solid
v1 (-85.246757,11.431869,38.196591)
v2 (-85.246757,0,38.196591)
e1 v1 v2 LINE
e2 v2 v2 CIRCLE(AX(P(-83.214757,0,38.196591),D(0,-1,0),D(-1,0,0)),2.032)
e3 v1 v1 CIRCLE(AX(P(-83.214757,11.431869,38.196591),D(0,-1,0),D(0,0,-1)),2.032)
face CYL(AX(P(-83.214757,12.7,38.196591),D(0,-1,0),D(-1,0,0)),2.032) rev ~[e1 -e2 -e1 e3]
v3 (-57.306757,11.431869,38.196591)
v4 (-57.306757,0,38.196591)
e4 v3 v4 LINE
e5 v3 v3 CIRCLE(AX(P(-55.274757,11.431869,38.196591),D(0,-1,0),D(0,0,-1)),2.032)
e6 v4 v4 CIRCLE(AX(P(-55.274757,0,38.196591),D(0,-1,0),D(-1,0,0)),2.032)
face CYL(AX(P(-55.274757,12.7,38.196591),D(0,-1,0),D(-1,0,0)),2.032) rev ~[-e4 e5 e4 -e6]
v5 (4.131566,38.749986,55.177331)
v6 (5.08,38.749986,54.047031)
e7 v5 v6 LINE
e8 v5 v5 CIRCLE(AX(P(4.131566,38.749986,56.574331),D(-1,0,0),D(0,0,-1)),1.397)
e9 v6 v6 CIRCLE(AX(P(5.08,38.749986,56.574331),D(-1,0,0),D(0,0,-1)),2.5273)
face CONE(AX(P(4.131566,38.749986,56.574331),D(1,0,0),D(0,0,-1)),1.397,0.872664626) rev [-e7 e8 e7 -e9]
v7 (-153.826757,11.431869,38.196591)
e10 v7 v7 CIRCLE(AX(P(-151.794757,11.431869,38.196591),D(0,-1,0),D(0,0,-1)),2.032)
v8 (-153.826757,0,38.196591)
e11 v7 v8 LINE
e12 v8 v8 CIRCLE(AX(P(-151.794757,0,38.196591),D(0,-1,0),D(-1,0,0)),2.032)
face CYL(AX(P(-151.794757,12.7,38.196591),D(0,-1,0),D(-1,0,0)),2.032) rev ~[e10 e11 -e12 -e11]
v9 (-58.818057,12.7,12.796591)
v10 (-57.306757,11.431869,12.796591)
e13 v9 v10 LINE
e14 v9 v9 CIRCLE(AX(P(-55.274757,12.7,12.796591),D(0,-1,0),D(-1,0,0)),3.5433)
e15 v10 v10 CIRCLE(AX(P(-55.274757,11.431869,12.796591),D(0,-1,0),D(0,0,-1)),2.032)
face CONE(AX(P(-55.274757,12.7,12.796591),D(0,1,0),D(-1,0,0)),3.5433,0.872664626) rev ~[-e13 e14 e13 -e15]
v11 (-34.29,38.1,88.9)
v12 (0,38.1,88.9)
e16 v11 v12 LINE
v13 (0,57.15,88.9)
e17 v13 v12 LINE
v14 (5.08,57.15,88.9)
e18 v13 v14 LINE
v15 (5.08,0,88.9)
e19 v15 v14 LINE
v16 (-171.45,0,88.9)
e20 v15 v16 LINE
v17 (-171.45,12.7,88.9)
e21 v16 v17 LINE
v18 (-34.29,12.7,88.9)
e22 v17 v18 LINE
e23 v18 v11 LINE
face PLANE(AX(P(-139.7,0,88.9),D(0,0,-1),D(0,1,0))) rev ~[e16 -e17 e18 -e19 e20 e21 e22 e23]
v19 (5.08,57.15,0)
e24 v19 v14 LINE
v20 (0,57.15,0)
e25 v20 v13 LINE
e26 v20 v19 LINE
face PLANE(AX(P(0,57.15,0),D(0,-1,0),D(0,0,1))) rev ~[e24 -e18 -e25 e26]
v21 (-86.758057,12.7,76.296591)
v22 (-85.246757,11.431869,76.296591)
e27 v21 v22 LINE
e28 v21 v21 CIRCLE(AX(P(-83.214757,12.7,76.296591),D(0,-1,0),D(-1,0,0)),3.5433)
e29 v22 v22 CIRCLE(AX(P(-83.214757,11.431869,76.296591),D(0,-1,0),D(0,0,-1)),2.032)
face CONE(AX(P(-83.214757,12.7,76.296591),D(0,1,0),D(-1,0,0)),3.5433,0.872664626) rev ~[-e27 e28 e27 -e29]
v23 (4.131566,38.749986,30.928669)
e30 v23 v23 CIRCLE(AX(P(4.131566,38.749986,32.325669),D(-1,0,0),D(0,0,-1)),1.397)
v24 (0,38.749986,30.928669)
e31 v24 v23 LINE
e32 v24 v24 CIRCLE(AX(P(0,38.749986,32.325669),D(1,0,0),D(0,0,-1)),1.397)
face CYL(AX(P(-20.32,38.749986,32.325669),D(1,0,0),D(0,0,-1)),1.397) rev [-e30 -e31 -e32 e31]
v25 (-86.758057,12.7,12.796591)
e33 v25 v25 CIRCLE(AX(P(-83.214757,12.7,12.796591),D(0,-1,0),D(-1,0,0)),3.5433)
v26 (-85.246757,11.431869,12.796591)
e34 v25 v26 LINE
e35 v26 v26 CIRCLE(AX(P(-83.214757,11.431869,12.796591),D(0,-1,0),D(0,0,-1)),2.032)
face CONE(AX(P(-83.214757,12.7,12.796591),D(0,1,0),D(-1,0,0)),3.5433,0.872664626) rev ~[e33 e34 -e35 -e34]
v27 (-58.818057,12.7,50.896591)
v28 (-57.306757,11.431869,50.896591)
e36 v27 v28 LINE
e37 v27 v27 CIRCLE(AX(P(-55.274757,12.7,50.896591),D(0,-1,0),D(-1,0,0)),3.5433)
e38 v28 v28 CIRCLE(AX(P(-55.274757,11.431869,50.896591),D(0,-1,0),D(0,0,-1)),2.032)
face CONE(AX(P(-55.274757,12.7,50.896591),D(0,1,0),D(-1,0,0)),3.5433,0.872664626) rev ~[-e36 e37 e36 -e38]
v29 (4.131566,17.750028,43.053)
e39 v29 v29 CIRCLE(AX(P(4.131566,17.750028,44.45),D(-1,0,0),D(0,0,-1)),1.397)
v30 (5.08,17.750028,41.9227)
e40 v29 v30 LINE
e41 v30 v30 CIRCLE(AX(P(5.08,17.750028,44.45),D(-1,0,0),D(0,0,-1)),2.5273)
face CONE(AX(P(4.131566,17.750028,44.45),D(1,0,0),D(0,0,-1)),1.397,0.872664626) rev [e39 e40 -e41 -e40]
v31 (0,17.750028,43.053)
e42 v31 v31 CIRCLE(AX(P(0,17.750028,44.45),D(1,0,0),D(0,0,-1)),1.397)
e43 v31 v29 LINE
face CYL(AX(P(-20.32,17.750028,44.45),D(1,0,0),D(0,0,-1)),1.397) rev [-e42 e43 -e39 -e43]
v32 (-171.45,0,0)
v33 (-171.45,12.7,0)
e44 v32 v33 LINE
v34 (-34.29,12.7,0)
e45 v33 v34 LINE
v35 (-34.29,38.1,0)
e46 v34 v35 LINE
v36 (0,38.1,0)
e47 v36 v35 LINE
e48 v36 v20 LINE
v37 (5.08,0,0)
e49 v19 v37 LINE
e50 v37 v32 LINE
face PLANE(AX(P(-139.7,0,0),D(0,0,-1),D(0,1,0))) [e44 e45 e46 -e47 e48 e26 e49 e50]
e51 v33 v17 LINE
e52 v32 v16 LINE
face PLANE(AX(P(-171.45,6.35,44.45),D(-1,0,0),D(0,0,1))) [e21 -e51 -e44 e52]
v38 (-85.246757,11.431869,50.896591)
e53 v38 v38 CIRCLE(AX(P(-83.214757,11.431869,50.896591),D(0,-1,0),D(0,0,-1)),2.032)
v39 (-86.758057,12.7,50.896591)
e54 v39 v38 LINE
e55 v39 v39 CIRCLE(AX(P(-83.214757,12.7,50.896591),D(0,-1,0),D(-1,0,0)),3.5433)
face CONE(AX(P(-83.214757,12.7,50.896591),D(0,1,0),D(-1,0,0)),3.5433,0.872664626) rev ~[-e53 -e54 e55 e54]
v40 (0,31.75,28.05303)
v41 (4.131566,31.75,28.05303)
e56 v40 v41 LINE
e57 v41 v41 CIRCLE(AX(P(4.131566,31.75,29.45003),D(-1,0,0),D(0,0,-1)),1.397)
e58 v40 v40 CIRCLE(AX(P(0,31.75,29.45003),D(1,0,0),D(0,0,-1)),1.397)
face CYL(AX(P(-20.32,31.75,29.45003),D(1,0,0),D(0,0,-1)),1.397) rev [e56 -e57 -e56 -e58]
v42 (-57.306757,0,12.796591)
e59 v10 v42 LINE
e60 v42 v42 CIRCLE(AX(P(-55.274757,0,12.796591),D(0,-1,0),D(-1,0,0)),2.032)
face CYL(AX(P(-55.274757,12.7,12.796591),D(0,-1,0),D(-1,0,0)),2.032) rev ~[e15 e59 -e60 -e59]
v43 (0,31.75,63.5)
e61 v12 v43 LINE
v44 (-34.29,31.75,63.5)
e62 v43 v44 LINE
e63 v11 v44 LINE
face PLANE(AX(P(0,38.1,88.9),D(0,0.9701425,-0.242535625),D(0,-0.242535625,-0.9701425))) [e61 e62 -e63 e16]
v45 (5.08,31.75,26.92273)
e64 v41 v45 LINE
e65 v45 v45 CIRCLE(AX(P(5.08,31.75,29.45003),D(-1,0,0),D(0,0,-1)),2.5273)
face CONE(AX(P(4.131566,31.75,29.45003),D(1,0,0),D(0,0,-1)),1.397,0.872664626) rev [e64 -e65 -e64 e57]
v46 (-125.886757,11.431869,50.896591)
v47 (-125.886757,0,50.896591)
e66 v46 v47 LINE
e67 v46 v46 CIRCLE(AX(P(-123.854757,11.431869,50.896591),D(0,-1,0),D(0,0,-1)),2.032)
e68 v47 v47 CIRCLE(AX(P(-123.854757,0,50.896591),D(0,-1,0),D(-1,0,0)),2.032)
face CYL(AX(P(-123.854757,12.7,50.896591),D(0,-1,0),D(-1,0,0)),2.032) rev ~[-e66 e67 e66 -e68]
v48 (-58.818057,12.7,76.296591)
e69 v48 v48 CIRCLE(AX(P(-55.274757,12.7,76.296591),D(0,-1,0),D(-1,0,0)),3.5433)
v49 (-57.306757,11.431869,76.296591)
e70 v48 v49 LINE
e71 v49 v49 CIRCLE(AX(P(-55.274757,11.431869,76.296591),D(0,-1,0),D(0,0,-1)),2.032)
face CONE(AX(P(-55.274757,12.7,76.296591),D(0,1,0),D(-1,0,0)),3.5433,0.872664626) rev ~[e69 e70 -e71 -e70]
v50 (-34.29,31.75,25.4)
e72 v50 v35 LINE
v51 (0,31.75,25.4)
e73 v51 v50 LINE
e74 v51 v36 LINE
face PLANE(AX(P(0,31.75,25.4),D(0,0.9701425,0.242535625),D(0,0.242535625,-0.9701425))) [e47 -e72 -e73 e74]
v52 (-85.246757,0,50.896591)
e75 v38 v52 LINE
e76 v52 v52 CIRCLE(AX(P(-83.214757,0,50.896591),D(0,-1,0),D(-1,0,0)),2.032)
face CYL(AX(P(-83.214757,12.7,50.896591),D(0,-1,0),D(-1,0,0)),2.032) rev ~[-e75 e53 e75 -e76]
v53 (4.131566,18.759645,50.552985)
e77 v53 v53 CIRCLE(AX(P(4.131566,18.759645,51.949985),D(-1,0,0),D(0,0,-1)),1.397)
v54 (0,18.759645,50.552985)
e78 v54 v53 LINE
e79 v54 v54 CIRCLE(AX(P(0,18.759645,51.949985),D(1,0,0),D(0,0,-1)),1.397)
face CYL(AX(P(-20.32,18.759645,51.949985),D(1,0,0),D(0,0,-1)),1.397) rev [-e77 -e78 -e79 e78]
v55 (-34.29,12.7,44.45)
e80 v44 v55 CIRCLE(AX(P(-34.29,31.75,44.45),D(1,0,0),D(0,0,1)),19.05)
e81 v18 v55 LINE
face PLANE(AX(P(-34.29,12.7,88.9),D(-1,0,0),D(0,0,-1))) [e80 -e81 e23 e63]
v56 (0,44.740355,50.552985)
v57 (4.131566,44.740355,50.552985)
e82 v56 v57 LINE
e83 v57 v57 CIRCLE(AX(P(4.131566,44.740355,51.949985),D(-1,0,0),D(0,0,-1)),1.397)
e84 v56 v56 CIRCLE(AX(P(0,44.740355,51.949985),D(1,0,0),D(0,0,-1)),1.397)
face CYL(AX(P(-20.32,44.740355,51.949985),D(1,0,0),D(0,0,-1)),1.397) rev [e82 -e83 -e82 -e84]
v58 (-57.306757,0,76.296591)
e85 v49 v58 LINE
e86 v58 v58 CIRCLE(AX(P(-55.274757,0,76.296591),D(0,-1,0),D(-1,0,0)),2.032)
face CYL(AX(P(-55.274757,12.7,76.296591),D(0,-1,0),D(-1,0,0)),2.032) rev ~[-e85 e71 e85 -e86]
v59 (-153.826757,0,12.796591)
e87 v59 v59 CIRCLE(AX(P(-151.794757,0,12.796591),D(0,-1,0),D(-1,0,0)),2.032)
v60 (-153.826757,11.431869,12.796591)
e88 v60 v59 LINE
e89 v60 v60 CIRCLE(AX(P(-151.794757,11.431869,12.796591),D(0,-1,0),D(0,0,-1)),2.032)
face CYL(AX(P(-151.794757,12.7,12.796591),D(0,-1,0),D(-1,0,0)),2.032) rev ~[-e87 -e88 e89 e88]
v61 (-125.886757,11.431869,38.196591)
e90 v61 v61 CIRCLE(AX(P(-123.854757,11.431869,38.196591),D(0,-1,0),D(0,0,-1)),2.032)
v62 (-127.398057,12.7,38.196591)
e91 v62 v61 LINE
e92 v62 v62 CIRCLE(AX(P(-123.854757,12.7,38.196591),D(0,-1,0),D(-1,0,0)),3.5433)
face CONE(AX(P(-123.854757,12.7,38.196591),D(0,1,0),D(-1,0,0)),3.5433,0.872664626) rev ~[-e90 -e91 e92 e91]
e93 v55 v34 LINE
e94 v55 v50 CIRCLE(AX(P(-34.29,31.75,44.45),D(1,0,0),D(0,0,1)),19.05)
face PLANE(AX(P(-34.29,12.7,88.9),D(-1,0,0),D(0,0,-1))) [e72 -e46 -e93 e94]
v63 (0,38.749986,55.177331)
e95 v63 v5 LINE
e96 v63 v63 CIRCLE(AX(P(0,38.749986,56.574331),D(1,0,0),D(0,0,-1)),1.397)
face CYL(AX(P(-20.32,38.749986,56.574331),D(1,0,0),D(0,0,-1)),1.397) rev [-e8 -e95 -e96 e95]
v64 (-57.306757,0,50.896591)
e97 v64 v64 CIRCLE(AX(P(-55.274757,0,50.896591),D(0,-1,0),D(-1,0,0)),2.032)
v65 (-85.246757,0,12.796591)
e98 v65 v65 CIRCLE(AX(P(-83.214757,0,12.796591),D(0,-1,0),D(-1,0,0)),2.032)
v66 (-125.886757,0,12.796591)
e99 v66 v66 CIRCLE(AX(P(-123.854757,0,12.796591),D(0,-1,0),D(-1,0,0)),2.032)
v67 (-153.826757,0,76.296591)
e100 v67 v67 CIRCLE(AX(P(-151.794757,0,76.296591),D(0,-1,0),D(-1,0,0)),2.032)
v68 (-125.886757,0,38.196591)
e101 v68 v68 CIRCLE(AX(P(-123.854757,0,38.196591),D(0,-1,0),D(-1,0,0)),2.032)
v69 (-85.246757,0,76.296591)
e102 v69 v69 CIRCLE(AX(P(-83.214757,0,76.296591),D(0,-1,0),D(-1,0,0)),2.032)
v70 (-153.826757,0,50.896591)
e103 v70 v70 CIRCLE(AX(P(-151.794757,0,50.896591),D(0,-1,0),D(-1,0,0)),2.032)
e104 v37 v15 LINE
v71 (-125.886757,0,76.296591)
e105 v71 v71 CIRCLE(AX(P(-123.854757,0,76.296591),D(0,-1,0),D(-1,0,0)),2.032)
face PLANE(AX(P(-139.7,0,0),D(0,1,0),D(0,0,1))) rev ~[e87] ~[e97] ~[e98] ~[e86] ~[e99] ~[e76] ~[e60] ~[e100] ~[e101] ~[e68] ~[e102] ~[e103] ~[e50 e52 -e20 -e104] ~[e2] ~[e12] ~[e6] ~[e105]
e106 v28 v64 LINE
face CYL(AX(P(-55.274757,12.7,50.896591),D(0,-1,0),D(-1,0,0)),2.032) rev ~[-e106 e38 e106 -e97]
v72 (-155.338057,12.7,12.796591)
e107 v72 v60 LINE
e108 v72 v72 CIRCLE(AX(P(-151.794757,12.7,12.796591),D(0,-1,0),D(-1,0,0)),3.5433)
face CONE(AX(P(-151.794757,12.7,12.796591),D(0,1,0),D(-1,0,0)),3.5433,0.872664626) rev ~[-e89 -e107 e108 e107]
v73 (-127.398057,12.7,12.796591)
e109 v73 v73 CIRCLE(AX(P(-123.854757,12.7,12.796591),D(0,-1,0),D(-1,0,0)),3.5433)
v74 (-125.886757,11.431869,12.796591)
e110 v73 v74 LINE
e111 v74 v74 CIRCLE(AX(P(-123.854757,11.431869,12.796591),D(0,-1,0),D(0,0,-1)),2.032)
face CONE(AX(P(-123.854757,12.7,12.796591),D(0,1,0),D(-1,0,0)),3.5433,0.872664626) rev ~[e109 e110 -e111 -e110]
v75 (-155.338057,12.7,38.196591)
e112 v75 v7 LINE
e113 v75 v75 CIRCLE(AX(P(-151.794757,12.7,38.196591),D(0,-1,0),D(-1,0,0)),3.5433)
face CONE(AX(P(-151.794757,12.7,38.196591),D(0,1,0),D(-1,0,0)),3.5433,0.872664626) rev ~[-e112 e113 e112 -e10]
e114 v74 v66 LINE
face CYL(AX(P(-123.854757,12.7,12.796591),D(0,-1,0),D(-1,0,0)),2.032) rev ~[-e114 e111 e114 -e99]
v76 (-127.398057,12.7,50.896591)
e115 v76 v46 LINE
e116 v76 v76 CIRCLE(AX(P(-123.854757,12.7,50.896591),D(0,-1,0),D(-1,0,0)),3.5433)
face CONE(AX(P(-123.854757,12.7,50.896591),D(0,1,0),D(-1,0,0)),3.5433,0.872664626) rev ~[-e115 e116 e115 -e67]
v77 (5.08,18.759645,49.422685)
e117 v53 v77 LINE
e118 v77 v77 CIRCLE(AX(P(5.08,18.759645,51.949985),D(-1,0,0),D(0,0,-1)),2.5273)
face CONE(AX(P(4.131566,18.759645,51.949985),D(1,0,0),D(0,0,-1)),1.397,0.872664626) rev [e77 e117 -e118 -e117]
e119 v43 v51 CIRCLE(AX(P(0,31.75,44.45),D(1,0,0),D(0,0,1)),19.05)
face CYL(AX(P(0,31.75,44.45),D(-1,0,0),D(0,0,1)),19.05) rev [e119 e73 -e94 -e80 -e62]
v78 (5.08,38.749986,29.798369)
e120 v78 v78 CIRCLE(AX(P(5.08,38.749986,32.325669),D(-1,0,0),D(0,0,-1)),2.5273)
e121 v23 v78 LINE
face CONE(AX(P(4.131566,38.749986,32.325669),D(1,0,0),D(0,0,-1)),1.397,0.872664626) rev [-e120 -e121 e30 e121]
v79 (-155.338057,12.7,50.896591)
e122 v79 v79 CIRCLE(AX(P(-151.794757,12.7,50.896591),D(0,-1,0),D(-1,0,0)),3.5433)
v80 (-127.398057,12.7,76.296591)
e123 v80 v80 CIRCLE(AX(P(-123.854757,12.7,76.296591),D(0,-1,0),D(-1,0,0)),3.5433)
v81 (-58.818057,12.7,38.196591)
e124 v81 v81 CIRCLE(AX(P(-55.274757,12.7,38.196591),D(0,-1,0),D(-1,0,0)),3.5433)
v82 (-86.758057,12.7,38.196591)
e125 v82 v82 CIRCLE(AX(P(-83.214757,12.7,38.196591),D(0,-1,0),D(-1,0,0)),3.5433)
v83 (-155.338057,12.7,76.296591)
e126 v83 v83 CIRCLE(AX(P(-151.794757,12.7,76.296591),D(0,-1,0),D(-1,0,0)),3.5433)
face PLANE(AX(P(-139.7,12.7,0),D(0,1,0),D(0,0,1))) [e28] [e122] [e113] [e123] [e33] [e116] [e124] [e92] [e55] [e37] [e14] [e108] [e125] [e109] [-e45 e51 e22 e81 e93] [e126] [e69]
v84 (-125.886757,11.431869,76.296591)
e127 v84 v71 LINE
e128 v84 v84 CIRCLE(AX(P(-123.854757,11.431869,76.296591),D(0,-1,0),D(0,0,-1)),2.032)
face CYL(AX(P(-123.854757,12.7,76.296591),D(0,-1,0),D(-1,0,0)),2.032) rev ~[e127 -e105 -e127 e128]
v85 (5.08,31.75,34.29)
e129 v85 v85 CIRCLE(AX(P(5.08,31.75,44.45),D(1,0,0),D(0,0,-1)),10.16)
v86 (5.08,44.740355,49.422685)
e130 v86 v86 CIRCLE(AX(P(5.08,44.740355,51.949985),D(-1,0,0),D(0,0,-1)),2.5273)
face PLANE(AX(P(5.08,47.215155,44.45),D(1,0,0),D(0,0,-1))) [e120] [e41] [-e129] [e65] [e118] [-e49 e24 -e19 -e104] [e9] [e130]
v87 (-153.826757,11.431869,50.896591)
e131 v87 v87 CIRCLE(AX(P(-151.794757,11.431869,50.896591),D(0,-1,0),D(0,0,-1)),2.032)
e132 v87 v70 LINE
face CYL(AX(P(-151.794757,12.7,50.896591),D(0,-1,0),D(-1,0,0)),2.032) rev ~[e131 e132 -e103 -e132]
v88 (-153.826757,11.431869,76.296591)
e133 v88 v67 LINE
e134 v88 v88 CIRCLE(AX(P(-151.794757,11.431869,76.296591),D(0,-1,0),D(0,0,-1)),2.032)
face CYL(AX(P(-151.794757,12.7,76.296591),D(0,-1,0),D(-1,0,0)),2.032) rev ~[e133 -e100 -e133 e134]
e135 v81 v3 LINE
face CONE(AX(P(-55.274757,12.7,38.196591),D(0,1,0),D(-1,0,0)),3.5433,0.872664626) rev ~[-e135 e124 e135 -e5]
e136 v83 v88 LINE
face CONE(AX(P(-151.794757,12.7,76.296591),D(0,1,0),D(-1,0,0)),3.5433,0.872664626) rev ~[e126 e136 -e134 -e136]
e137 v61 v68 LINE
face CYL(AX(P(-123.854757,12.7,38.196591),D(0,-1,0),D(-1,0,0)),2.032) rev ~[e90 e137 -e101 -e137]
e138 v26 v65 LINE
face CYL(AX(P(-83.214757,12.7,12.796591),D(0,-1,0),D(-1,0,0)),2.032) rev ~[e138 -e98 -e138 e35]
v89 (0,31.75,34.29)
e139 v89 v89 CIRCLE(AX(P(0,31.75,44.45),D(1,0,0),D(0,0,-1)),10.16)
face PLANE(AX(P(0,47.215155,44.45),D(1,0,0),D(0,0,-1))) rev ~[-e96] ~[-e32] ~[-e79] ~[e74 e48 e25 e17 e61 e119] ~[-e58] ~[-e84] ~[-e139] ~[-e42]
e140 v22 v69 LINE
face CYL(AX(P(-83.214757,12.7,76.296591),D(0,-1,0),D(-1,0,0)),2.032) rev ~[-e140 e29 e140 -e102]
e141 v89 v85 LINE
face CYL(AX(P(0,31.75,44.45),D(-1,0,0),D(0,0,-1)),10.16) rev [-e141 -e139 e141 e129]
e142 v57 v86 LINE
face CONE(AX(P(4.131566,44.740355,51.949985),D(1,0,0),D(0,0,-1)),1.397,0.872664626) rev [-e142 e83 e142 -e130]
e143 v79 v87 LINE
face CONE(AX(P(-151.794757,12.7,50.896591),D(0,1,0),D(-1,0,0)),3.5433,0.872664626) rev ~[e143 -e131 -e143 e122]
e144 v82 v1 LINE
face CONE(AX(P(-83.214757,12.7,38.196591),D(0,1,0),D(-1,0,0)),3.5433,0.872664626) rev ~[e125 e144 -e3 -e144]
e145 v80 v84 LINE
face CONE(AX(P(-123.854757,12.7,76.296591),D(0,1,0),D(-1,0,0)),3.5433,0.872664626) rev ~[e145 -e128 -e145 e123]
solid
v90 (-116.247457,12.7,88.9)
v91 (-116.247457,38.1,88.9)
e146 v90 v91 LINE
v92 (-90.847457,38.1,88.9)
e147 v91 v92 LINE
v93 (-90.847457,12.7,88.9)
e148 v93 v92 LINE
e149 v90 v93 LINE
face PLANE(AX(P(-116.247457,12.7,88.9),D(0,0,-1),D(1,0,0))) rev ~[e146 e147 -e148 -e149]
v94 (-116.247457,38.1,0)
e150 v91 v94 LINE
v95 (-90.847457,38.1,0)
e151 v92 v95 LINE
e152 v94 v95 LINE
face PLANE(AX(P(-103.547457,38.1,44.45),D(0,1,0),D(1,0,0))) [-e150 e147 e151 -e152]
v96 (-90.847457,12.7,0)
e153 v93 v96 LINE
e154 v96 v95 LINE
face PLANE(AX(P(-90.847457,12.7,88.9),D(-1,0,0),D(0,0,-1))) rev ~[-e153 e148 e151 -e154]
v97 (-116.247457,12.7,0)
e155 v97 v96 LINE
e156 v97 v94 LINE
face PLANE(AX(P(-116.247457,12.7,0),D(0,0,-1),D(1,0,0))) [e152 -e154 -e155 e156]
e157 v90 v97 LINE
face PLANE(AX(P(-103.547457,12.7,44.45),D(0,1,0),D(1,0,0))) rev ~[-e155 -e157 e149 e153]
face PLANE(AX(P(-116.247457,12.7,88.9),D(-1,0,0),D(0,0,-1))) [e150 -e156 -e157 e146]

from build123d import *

# Parameters (mm, degrees)
SKETCH1_W                                         = 139.7
SKETCH1_H                                         = 88.9
BOSS_EXTRUDE1_DEPTH                               = 76.2
CUT_EXTRUDE1_DEPTH                                = 183.279291199
CUT_EXTRUDE1_DEPTH_BACK                           = 34.29
BOSS_EXTRUDE2_DEPTH                               = 5.08
BOSS_EXTRUDE3_START                               = -5.08
SKETCH5_R                                         = 10.16
BOSS_EXTRUDE3_DEPTH                               = 5.08
CUT_EXTRUDE2_DEPTH                                = 183.279291199
CUT_EXTRUDE2_DEPTH_BACK                           = 63.5
SKETCH6_W                                         = 105.41
SKETCH6_H                                         = 88.9
SKETCH7_W                                         = 88.9
SKETCH7_H                                         = 12.7
BOSS_EXTRUDE4_DEPTH                               = 31.75
CSK_FOR_6_FLAT_HEAD_MACHINE_SCREW_100_D           = 4.064
CSK_FOR_6_FLAT_HEAD_MACHINE_SCREW_100_CSINK_D     = 7.0866
CSK_FOR_6_FLAT_HEAD_MACHINE_SCREW_100_CSINK_ANGLE = 100
SKETCH10_W                                        = 25.4
SKETCH10_H                                        = 88.9
BOSS_EXTRUDE5_DEPTH                               = 25.4
CSK_FOR_3_FLAT_HEAD_MACHINE_SCREW_2_COUNT         = 2
CSK_FOR_3_FLAT_HEAD_MACHINE_SCREW_2_PITCH         = 7.567635122
CSK_FOR_3_FLAT_HEAD_MACHINE_SCREW_3_COUNT         = 2
CSK_FOR_3_FLAT_HEAD_MACHINE_SCREW_3_PITCH         = 20.518243492
CSK_FOR_3_FLAT_HEAD_MACHINE_SCREW_4_COUNT         = 2
CSK_FOR_3_FLAT_HEAD_MACHINE_SCREW_4_PITCH         = 28.012988607
CSK_FOR_3_FLAT_HEAD_MACHINE_SCREW_5_COUNT         = 2
CSK_FOR_3_FLAT_HEAD_MACHINE_SCREW_5_PITCH         = 25.980710152
CSK_FOR_3_FLAT_HEAD_MACHINE_SCREW_6_COUNT         = 2
CSK_FOR_3_FLAT_HEAD_MACHINE_SCREW_6_PITCH         = 25.980710152


with BuildPart() as part:
    # Sketch1 → Boss-Extrude1 (new body)
    with BuildSketch(Plane(origin=(0, 0, 0), x_dir=(1, 0, 0), z_dir=(0, 1, 0))):
        with Locations((-69.85, -44.45)):
            Rectangle(SKETCH1_W, SKETCH1_H)
    extrude(amount=BOSS_EXTRUDE1_DEPTH)

    # Sketch2 → Cut-Extrude1 (cut, two sides: drawn at the far end of the back side and taken through both)
    with BuildSketch(Plane(origin=(0, 0, 0), x_dir=(0, 0, -1), z_dir=(1, 0, 0)).offset(-CUT_EXTRUDE1_DEPTH_BACK)):
        with BuildLine():
            Line((-88.9, 38.1), (-63.5, 31.75))
            ThreePointArc((-63.5, 31.75), (-44.45, 12.7), (-25.4, 31.75))
            Line((-25.4, 31.75), (0, 38.1))
            Line((0, 38.1), (0, 76.2))
            Line((0, 76.2), (-88.9, 76.2))
            Line((-88.9, 76.2), (-88.9, 38.1))
        make_face()
    extrude(amount=CUT_EXTRUDE1_DEPTH + CUT_EXTRUDE1_DEPTH_BACK, mode=Mode.SUBTRACT)

    # Sketch4 → Boss-Extrude2 (add)
    with BuildSketch(Plane(origin=(0, 0, 0), x_dir=(0, 0, -1), z_dir=(1, 0, 0))):
        with BuildLine():
            Line((-88.9, 38.1), (-63.5, 31.75))
            ThreePointArc((-63.5, 31.75), (-44.45, 12.7), (-25.4, 31.75))
            Line((-25.4, 31.75), (0, 38.1))
            Line((0, 38.1), (0, 0))
            Line((0, 0), (-88.9, 0))
            Line((-88.9, 0), (-88.9, 38.1))
        make_face()
    extrude(amount=BOSS_EXTRUDE2_DEPTH)

    # Sketch5 → Boss-Extrude3 (add)
    # profile 1 of 2: a face of its own
    with BuildSketch(Plane(origin=(5.08, 0, 0), x_dir=(0, 0, -1), z_dir=(1, 0, 0)).offset(BOSS_EXTRUDE3_START)):
        with BuildLine():
            Line((0, 57.15), (-88.9, 57.15))
            Line((-88.9, 57.15), (-88.9, 38.1))
            Line((-88.9, 38.1), (-63.5, 31.75))
            ThreePointArc((-63.5, 31.75), (-44.45, 50.8), (-25.4, 31.75))
            Line((-25.4, 31.75), (0, 38.1))
            Line((0, 38.1), (0, 57.15))
        make_face()
    # profile 2 of 2: a face of its own
    with BuildSketch(Plane(origin=(5.08, 0, 0), x_dir=(0, 0, -1), z_dir=(1, 0, 0)).offset(BOSS_EXTRUDE3_START)):
        with BuildLine():
            ThreePointArc((-25.4, 31.75), (-44.45, 50.8), (-63.5, 31.75))
            ThreePointArc((-63.5, 31.75), (-44.45, 12.7), (-25.4, 31.75))
        make_face()
        with Locations((-44.45, 31.75)):
            Circle(SKETCH5_R, mode=Mode.SUBTRACT)
    extrude(amount=BOSS_EXTRUDE3_DEPTH)

    # Sketch6 → Cut-Extrude2 (cut, two sides: drawn at the far end of the back side and taken through both)
    with BuildSketch(Plane(origin=(0, 76.2, 0), x_dir=(1, 0, 0), z_dir=(0, 1, 0)).offset(-CUT_EXTRUDE2_DEPTH_BACK)):
        with Locations((-86.995, -44.45)):
            Rectangle(SKETCH6_W, SKETCH6_H)
    extrude(amount=CUT_EXTRUDE2_DEPTH + CUT_EXTRUDE2_DEPTH_BACK, mode=Mode.SUBTRACT)

    # Sketch7 → Boss-Extrude4 (add)
    with BuildSketch(Plane.ZY.offset(139.7)):
        with Locations((44.45, 6.35)):
            Rectangle(SKETCH7_W, SKETCH7_H)
    extrude(amount=BOSS_EXTRUDE4_DEPTH)

    # CSK for #6 Flat Head Machine Screw (100)1 (through all)
    with Locations(Plane(origin=(0, 12.7, 0), x_dir=(1, 0, 0), z_dir=(0, 1, 0))):
        with Locations((-55.274756895, -38.196590789), (-55.274756895, -12.796590789), (-123.854756895, -12.796590789), (-123.854756895, -50.896590789), (-151.794756895, -12.796590789), (-151.794756895, -38.196590789), (-123.854756895, -38.196590789), (-151.794756895, -50.896590789), (-151.794756895, -76.296590789), (-123.854756895, -76.296590789), (-55.274756895, -50.896590789), (-83.214756895, -12.796590789), (-83.214756895, -38.196590789), (-83.214756895, -50.896590789), (-83.214756895, -76.296590789), (-55.274756895, -76.296590789)):
            CounterSinkHole(CSK_FOR_6_FLAT_HEAD_MACHINE_SCREW_100_D / 2, CSK_FOR_6_FLAT_HEAD_MACHINE_SCREW_100_CSINK_D / 2, counter_sink_angle=CSK_FOR_6_FLAT_HEAD_MACHINE_SCREW_100_CSINK_ANGLE)

    # Sketch12 → CSK for #3 Flat Head Machine Screw (100)1 (revolve, cut)
    with BuildSketch(Plane(origin=(5.08, 18.759644924, 51.949985), x_dir=(0, 0, -1), z_dir=(0, 1, 0))):
        Polygon((0, 0), (0, 26.239402285), (1.397, 25.4), (1.397, 0.948434313), (2.5273, 0), align=None)
    csk_for_3_flat_head_machine_screw_100 = revolve(axis=Axis((11.43, 18.759644924, 51.949985), (-1, 0, 0)), mode=Mode.SUBTRACT)

    # CSK for _3 Flat Head Machine Screw _ 2: CSK for #3 Flat Head Machine Screw (100)1 ×2
    with Locations(*[Vector(0, -0.13341247401263837, -0.9910605994477972) * (i * CSK_FOR_3_FLAT_HEAD_MACHINE_SCREW_2_PITCH) for i in range(1, CSK_FOR_3_FLAT_HEAD_MACHINE_SCREW_2_COUNT)]):
        add(csk_for_3_flat_head_machine_screw_100, mode=Mode.SUBTRACT)

    # CSK for _3 Flat Head Machine Screw _ 3: CSK for #3 Flat Head Machine Screw (100)1 ×2
    with Locations(*[Vector(0, 0.9742715590487785, 0.225377304156081) * (i * CSK_FOR_3_FLAT_HEAD_MACHINE_SCREW_3_PITCH) for i in range(1, CSK_FOR_3_FLAT_HEAD_MACHINE_SCREW_3_COUNT)]):
        add(csk_for_3_flat_head_machine_screw_100, mode=Mode.SUBTRACT)

    # CSK for _3 Flat Head Machine Screw _ 4: CSK for #3 Flat Head Machine Screw (100)1 ×2
    with Locations(*[Vector(0, 0.7136097242883989, -0.7005434757393973) * (i * CSK_FOR_3_FLAT_HEAD_MACHINE_SCREW_4_PITCH) for i in range(1, CSK_FOR_3_FLAT_HEAD_MACHINE_SCREW_4_COUNT)]):
        add(csk_for_3_flat_head_machine_screw_100, mode=Mode.SUBTRACT)

    # CSK for _3 Flat Head Machine Screw _ 5: CSK for #3 Flat Head Machine Screw (100)1 ×2
    with Locations(*[(0, i * CSK_FOR_3_FLAT_HEAD_MACHINE_SCREW_5_PITCH, 0) for i in range(1, CSK_FOR_3_FLAT_HEAD_MACHINE_SCREW_5_COUNT)]):
        add(csk_for_3_flat_head_machine_screw_100, mode=Mode.SUBTRACT)

    # CSK for _3 Flat Head Machine Screw _ 6: CSK for #3 Flat Head Machine Screw (100)1 ×2
    with Locations(*[Vector(0, 0.49999999999999856, -0.8660254037844395) * (i * CSK_FOR_3_FLAT_HEAD_MACHINE_SCREW_6_PITCH) for i in range(1, CSK_FOR_3_FLAT_HEAD_MACHINE_SCREW_6_COUNT)]):
        add(csk_for_3_flat_head_machine_screw_100, mode=Mode.SUBTRACT)


with BuildPart() as body_2:
    # Sketch10 → Boss-Extrude5 (new body)
    with BuildSketch(Plane(origin=(0, 12.7, 0), x_dir=(1, 0, 0), z_dir=(0, 1, 0))):
        with Locations((-103.547456895, -44.45)):
            Rectangle(SKETCH10_W, SKETCH10_H)
    extrude(amount=BOSS_EXTRUDE5_DEPTH)


solid = Compound([part.part, body_2.part])
